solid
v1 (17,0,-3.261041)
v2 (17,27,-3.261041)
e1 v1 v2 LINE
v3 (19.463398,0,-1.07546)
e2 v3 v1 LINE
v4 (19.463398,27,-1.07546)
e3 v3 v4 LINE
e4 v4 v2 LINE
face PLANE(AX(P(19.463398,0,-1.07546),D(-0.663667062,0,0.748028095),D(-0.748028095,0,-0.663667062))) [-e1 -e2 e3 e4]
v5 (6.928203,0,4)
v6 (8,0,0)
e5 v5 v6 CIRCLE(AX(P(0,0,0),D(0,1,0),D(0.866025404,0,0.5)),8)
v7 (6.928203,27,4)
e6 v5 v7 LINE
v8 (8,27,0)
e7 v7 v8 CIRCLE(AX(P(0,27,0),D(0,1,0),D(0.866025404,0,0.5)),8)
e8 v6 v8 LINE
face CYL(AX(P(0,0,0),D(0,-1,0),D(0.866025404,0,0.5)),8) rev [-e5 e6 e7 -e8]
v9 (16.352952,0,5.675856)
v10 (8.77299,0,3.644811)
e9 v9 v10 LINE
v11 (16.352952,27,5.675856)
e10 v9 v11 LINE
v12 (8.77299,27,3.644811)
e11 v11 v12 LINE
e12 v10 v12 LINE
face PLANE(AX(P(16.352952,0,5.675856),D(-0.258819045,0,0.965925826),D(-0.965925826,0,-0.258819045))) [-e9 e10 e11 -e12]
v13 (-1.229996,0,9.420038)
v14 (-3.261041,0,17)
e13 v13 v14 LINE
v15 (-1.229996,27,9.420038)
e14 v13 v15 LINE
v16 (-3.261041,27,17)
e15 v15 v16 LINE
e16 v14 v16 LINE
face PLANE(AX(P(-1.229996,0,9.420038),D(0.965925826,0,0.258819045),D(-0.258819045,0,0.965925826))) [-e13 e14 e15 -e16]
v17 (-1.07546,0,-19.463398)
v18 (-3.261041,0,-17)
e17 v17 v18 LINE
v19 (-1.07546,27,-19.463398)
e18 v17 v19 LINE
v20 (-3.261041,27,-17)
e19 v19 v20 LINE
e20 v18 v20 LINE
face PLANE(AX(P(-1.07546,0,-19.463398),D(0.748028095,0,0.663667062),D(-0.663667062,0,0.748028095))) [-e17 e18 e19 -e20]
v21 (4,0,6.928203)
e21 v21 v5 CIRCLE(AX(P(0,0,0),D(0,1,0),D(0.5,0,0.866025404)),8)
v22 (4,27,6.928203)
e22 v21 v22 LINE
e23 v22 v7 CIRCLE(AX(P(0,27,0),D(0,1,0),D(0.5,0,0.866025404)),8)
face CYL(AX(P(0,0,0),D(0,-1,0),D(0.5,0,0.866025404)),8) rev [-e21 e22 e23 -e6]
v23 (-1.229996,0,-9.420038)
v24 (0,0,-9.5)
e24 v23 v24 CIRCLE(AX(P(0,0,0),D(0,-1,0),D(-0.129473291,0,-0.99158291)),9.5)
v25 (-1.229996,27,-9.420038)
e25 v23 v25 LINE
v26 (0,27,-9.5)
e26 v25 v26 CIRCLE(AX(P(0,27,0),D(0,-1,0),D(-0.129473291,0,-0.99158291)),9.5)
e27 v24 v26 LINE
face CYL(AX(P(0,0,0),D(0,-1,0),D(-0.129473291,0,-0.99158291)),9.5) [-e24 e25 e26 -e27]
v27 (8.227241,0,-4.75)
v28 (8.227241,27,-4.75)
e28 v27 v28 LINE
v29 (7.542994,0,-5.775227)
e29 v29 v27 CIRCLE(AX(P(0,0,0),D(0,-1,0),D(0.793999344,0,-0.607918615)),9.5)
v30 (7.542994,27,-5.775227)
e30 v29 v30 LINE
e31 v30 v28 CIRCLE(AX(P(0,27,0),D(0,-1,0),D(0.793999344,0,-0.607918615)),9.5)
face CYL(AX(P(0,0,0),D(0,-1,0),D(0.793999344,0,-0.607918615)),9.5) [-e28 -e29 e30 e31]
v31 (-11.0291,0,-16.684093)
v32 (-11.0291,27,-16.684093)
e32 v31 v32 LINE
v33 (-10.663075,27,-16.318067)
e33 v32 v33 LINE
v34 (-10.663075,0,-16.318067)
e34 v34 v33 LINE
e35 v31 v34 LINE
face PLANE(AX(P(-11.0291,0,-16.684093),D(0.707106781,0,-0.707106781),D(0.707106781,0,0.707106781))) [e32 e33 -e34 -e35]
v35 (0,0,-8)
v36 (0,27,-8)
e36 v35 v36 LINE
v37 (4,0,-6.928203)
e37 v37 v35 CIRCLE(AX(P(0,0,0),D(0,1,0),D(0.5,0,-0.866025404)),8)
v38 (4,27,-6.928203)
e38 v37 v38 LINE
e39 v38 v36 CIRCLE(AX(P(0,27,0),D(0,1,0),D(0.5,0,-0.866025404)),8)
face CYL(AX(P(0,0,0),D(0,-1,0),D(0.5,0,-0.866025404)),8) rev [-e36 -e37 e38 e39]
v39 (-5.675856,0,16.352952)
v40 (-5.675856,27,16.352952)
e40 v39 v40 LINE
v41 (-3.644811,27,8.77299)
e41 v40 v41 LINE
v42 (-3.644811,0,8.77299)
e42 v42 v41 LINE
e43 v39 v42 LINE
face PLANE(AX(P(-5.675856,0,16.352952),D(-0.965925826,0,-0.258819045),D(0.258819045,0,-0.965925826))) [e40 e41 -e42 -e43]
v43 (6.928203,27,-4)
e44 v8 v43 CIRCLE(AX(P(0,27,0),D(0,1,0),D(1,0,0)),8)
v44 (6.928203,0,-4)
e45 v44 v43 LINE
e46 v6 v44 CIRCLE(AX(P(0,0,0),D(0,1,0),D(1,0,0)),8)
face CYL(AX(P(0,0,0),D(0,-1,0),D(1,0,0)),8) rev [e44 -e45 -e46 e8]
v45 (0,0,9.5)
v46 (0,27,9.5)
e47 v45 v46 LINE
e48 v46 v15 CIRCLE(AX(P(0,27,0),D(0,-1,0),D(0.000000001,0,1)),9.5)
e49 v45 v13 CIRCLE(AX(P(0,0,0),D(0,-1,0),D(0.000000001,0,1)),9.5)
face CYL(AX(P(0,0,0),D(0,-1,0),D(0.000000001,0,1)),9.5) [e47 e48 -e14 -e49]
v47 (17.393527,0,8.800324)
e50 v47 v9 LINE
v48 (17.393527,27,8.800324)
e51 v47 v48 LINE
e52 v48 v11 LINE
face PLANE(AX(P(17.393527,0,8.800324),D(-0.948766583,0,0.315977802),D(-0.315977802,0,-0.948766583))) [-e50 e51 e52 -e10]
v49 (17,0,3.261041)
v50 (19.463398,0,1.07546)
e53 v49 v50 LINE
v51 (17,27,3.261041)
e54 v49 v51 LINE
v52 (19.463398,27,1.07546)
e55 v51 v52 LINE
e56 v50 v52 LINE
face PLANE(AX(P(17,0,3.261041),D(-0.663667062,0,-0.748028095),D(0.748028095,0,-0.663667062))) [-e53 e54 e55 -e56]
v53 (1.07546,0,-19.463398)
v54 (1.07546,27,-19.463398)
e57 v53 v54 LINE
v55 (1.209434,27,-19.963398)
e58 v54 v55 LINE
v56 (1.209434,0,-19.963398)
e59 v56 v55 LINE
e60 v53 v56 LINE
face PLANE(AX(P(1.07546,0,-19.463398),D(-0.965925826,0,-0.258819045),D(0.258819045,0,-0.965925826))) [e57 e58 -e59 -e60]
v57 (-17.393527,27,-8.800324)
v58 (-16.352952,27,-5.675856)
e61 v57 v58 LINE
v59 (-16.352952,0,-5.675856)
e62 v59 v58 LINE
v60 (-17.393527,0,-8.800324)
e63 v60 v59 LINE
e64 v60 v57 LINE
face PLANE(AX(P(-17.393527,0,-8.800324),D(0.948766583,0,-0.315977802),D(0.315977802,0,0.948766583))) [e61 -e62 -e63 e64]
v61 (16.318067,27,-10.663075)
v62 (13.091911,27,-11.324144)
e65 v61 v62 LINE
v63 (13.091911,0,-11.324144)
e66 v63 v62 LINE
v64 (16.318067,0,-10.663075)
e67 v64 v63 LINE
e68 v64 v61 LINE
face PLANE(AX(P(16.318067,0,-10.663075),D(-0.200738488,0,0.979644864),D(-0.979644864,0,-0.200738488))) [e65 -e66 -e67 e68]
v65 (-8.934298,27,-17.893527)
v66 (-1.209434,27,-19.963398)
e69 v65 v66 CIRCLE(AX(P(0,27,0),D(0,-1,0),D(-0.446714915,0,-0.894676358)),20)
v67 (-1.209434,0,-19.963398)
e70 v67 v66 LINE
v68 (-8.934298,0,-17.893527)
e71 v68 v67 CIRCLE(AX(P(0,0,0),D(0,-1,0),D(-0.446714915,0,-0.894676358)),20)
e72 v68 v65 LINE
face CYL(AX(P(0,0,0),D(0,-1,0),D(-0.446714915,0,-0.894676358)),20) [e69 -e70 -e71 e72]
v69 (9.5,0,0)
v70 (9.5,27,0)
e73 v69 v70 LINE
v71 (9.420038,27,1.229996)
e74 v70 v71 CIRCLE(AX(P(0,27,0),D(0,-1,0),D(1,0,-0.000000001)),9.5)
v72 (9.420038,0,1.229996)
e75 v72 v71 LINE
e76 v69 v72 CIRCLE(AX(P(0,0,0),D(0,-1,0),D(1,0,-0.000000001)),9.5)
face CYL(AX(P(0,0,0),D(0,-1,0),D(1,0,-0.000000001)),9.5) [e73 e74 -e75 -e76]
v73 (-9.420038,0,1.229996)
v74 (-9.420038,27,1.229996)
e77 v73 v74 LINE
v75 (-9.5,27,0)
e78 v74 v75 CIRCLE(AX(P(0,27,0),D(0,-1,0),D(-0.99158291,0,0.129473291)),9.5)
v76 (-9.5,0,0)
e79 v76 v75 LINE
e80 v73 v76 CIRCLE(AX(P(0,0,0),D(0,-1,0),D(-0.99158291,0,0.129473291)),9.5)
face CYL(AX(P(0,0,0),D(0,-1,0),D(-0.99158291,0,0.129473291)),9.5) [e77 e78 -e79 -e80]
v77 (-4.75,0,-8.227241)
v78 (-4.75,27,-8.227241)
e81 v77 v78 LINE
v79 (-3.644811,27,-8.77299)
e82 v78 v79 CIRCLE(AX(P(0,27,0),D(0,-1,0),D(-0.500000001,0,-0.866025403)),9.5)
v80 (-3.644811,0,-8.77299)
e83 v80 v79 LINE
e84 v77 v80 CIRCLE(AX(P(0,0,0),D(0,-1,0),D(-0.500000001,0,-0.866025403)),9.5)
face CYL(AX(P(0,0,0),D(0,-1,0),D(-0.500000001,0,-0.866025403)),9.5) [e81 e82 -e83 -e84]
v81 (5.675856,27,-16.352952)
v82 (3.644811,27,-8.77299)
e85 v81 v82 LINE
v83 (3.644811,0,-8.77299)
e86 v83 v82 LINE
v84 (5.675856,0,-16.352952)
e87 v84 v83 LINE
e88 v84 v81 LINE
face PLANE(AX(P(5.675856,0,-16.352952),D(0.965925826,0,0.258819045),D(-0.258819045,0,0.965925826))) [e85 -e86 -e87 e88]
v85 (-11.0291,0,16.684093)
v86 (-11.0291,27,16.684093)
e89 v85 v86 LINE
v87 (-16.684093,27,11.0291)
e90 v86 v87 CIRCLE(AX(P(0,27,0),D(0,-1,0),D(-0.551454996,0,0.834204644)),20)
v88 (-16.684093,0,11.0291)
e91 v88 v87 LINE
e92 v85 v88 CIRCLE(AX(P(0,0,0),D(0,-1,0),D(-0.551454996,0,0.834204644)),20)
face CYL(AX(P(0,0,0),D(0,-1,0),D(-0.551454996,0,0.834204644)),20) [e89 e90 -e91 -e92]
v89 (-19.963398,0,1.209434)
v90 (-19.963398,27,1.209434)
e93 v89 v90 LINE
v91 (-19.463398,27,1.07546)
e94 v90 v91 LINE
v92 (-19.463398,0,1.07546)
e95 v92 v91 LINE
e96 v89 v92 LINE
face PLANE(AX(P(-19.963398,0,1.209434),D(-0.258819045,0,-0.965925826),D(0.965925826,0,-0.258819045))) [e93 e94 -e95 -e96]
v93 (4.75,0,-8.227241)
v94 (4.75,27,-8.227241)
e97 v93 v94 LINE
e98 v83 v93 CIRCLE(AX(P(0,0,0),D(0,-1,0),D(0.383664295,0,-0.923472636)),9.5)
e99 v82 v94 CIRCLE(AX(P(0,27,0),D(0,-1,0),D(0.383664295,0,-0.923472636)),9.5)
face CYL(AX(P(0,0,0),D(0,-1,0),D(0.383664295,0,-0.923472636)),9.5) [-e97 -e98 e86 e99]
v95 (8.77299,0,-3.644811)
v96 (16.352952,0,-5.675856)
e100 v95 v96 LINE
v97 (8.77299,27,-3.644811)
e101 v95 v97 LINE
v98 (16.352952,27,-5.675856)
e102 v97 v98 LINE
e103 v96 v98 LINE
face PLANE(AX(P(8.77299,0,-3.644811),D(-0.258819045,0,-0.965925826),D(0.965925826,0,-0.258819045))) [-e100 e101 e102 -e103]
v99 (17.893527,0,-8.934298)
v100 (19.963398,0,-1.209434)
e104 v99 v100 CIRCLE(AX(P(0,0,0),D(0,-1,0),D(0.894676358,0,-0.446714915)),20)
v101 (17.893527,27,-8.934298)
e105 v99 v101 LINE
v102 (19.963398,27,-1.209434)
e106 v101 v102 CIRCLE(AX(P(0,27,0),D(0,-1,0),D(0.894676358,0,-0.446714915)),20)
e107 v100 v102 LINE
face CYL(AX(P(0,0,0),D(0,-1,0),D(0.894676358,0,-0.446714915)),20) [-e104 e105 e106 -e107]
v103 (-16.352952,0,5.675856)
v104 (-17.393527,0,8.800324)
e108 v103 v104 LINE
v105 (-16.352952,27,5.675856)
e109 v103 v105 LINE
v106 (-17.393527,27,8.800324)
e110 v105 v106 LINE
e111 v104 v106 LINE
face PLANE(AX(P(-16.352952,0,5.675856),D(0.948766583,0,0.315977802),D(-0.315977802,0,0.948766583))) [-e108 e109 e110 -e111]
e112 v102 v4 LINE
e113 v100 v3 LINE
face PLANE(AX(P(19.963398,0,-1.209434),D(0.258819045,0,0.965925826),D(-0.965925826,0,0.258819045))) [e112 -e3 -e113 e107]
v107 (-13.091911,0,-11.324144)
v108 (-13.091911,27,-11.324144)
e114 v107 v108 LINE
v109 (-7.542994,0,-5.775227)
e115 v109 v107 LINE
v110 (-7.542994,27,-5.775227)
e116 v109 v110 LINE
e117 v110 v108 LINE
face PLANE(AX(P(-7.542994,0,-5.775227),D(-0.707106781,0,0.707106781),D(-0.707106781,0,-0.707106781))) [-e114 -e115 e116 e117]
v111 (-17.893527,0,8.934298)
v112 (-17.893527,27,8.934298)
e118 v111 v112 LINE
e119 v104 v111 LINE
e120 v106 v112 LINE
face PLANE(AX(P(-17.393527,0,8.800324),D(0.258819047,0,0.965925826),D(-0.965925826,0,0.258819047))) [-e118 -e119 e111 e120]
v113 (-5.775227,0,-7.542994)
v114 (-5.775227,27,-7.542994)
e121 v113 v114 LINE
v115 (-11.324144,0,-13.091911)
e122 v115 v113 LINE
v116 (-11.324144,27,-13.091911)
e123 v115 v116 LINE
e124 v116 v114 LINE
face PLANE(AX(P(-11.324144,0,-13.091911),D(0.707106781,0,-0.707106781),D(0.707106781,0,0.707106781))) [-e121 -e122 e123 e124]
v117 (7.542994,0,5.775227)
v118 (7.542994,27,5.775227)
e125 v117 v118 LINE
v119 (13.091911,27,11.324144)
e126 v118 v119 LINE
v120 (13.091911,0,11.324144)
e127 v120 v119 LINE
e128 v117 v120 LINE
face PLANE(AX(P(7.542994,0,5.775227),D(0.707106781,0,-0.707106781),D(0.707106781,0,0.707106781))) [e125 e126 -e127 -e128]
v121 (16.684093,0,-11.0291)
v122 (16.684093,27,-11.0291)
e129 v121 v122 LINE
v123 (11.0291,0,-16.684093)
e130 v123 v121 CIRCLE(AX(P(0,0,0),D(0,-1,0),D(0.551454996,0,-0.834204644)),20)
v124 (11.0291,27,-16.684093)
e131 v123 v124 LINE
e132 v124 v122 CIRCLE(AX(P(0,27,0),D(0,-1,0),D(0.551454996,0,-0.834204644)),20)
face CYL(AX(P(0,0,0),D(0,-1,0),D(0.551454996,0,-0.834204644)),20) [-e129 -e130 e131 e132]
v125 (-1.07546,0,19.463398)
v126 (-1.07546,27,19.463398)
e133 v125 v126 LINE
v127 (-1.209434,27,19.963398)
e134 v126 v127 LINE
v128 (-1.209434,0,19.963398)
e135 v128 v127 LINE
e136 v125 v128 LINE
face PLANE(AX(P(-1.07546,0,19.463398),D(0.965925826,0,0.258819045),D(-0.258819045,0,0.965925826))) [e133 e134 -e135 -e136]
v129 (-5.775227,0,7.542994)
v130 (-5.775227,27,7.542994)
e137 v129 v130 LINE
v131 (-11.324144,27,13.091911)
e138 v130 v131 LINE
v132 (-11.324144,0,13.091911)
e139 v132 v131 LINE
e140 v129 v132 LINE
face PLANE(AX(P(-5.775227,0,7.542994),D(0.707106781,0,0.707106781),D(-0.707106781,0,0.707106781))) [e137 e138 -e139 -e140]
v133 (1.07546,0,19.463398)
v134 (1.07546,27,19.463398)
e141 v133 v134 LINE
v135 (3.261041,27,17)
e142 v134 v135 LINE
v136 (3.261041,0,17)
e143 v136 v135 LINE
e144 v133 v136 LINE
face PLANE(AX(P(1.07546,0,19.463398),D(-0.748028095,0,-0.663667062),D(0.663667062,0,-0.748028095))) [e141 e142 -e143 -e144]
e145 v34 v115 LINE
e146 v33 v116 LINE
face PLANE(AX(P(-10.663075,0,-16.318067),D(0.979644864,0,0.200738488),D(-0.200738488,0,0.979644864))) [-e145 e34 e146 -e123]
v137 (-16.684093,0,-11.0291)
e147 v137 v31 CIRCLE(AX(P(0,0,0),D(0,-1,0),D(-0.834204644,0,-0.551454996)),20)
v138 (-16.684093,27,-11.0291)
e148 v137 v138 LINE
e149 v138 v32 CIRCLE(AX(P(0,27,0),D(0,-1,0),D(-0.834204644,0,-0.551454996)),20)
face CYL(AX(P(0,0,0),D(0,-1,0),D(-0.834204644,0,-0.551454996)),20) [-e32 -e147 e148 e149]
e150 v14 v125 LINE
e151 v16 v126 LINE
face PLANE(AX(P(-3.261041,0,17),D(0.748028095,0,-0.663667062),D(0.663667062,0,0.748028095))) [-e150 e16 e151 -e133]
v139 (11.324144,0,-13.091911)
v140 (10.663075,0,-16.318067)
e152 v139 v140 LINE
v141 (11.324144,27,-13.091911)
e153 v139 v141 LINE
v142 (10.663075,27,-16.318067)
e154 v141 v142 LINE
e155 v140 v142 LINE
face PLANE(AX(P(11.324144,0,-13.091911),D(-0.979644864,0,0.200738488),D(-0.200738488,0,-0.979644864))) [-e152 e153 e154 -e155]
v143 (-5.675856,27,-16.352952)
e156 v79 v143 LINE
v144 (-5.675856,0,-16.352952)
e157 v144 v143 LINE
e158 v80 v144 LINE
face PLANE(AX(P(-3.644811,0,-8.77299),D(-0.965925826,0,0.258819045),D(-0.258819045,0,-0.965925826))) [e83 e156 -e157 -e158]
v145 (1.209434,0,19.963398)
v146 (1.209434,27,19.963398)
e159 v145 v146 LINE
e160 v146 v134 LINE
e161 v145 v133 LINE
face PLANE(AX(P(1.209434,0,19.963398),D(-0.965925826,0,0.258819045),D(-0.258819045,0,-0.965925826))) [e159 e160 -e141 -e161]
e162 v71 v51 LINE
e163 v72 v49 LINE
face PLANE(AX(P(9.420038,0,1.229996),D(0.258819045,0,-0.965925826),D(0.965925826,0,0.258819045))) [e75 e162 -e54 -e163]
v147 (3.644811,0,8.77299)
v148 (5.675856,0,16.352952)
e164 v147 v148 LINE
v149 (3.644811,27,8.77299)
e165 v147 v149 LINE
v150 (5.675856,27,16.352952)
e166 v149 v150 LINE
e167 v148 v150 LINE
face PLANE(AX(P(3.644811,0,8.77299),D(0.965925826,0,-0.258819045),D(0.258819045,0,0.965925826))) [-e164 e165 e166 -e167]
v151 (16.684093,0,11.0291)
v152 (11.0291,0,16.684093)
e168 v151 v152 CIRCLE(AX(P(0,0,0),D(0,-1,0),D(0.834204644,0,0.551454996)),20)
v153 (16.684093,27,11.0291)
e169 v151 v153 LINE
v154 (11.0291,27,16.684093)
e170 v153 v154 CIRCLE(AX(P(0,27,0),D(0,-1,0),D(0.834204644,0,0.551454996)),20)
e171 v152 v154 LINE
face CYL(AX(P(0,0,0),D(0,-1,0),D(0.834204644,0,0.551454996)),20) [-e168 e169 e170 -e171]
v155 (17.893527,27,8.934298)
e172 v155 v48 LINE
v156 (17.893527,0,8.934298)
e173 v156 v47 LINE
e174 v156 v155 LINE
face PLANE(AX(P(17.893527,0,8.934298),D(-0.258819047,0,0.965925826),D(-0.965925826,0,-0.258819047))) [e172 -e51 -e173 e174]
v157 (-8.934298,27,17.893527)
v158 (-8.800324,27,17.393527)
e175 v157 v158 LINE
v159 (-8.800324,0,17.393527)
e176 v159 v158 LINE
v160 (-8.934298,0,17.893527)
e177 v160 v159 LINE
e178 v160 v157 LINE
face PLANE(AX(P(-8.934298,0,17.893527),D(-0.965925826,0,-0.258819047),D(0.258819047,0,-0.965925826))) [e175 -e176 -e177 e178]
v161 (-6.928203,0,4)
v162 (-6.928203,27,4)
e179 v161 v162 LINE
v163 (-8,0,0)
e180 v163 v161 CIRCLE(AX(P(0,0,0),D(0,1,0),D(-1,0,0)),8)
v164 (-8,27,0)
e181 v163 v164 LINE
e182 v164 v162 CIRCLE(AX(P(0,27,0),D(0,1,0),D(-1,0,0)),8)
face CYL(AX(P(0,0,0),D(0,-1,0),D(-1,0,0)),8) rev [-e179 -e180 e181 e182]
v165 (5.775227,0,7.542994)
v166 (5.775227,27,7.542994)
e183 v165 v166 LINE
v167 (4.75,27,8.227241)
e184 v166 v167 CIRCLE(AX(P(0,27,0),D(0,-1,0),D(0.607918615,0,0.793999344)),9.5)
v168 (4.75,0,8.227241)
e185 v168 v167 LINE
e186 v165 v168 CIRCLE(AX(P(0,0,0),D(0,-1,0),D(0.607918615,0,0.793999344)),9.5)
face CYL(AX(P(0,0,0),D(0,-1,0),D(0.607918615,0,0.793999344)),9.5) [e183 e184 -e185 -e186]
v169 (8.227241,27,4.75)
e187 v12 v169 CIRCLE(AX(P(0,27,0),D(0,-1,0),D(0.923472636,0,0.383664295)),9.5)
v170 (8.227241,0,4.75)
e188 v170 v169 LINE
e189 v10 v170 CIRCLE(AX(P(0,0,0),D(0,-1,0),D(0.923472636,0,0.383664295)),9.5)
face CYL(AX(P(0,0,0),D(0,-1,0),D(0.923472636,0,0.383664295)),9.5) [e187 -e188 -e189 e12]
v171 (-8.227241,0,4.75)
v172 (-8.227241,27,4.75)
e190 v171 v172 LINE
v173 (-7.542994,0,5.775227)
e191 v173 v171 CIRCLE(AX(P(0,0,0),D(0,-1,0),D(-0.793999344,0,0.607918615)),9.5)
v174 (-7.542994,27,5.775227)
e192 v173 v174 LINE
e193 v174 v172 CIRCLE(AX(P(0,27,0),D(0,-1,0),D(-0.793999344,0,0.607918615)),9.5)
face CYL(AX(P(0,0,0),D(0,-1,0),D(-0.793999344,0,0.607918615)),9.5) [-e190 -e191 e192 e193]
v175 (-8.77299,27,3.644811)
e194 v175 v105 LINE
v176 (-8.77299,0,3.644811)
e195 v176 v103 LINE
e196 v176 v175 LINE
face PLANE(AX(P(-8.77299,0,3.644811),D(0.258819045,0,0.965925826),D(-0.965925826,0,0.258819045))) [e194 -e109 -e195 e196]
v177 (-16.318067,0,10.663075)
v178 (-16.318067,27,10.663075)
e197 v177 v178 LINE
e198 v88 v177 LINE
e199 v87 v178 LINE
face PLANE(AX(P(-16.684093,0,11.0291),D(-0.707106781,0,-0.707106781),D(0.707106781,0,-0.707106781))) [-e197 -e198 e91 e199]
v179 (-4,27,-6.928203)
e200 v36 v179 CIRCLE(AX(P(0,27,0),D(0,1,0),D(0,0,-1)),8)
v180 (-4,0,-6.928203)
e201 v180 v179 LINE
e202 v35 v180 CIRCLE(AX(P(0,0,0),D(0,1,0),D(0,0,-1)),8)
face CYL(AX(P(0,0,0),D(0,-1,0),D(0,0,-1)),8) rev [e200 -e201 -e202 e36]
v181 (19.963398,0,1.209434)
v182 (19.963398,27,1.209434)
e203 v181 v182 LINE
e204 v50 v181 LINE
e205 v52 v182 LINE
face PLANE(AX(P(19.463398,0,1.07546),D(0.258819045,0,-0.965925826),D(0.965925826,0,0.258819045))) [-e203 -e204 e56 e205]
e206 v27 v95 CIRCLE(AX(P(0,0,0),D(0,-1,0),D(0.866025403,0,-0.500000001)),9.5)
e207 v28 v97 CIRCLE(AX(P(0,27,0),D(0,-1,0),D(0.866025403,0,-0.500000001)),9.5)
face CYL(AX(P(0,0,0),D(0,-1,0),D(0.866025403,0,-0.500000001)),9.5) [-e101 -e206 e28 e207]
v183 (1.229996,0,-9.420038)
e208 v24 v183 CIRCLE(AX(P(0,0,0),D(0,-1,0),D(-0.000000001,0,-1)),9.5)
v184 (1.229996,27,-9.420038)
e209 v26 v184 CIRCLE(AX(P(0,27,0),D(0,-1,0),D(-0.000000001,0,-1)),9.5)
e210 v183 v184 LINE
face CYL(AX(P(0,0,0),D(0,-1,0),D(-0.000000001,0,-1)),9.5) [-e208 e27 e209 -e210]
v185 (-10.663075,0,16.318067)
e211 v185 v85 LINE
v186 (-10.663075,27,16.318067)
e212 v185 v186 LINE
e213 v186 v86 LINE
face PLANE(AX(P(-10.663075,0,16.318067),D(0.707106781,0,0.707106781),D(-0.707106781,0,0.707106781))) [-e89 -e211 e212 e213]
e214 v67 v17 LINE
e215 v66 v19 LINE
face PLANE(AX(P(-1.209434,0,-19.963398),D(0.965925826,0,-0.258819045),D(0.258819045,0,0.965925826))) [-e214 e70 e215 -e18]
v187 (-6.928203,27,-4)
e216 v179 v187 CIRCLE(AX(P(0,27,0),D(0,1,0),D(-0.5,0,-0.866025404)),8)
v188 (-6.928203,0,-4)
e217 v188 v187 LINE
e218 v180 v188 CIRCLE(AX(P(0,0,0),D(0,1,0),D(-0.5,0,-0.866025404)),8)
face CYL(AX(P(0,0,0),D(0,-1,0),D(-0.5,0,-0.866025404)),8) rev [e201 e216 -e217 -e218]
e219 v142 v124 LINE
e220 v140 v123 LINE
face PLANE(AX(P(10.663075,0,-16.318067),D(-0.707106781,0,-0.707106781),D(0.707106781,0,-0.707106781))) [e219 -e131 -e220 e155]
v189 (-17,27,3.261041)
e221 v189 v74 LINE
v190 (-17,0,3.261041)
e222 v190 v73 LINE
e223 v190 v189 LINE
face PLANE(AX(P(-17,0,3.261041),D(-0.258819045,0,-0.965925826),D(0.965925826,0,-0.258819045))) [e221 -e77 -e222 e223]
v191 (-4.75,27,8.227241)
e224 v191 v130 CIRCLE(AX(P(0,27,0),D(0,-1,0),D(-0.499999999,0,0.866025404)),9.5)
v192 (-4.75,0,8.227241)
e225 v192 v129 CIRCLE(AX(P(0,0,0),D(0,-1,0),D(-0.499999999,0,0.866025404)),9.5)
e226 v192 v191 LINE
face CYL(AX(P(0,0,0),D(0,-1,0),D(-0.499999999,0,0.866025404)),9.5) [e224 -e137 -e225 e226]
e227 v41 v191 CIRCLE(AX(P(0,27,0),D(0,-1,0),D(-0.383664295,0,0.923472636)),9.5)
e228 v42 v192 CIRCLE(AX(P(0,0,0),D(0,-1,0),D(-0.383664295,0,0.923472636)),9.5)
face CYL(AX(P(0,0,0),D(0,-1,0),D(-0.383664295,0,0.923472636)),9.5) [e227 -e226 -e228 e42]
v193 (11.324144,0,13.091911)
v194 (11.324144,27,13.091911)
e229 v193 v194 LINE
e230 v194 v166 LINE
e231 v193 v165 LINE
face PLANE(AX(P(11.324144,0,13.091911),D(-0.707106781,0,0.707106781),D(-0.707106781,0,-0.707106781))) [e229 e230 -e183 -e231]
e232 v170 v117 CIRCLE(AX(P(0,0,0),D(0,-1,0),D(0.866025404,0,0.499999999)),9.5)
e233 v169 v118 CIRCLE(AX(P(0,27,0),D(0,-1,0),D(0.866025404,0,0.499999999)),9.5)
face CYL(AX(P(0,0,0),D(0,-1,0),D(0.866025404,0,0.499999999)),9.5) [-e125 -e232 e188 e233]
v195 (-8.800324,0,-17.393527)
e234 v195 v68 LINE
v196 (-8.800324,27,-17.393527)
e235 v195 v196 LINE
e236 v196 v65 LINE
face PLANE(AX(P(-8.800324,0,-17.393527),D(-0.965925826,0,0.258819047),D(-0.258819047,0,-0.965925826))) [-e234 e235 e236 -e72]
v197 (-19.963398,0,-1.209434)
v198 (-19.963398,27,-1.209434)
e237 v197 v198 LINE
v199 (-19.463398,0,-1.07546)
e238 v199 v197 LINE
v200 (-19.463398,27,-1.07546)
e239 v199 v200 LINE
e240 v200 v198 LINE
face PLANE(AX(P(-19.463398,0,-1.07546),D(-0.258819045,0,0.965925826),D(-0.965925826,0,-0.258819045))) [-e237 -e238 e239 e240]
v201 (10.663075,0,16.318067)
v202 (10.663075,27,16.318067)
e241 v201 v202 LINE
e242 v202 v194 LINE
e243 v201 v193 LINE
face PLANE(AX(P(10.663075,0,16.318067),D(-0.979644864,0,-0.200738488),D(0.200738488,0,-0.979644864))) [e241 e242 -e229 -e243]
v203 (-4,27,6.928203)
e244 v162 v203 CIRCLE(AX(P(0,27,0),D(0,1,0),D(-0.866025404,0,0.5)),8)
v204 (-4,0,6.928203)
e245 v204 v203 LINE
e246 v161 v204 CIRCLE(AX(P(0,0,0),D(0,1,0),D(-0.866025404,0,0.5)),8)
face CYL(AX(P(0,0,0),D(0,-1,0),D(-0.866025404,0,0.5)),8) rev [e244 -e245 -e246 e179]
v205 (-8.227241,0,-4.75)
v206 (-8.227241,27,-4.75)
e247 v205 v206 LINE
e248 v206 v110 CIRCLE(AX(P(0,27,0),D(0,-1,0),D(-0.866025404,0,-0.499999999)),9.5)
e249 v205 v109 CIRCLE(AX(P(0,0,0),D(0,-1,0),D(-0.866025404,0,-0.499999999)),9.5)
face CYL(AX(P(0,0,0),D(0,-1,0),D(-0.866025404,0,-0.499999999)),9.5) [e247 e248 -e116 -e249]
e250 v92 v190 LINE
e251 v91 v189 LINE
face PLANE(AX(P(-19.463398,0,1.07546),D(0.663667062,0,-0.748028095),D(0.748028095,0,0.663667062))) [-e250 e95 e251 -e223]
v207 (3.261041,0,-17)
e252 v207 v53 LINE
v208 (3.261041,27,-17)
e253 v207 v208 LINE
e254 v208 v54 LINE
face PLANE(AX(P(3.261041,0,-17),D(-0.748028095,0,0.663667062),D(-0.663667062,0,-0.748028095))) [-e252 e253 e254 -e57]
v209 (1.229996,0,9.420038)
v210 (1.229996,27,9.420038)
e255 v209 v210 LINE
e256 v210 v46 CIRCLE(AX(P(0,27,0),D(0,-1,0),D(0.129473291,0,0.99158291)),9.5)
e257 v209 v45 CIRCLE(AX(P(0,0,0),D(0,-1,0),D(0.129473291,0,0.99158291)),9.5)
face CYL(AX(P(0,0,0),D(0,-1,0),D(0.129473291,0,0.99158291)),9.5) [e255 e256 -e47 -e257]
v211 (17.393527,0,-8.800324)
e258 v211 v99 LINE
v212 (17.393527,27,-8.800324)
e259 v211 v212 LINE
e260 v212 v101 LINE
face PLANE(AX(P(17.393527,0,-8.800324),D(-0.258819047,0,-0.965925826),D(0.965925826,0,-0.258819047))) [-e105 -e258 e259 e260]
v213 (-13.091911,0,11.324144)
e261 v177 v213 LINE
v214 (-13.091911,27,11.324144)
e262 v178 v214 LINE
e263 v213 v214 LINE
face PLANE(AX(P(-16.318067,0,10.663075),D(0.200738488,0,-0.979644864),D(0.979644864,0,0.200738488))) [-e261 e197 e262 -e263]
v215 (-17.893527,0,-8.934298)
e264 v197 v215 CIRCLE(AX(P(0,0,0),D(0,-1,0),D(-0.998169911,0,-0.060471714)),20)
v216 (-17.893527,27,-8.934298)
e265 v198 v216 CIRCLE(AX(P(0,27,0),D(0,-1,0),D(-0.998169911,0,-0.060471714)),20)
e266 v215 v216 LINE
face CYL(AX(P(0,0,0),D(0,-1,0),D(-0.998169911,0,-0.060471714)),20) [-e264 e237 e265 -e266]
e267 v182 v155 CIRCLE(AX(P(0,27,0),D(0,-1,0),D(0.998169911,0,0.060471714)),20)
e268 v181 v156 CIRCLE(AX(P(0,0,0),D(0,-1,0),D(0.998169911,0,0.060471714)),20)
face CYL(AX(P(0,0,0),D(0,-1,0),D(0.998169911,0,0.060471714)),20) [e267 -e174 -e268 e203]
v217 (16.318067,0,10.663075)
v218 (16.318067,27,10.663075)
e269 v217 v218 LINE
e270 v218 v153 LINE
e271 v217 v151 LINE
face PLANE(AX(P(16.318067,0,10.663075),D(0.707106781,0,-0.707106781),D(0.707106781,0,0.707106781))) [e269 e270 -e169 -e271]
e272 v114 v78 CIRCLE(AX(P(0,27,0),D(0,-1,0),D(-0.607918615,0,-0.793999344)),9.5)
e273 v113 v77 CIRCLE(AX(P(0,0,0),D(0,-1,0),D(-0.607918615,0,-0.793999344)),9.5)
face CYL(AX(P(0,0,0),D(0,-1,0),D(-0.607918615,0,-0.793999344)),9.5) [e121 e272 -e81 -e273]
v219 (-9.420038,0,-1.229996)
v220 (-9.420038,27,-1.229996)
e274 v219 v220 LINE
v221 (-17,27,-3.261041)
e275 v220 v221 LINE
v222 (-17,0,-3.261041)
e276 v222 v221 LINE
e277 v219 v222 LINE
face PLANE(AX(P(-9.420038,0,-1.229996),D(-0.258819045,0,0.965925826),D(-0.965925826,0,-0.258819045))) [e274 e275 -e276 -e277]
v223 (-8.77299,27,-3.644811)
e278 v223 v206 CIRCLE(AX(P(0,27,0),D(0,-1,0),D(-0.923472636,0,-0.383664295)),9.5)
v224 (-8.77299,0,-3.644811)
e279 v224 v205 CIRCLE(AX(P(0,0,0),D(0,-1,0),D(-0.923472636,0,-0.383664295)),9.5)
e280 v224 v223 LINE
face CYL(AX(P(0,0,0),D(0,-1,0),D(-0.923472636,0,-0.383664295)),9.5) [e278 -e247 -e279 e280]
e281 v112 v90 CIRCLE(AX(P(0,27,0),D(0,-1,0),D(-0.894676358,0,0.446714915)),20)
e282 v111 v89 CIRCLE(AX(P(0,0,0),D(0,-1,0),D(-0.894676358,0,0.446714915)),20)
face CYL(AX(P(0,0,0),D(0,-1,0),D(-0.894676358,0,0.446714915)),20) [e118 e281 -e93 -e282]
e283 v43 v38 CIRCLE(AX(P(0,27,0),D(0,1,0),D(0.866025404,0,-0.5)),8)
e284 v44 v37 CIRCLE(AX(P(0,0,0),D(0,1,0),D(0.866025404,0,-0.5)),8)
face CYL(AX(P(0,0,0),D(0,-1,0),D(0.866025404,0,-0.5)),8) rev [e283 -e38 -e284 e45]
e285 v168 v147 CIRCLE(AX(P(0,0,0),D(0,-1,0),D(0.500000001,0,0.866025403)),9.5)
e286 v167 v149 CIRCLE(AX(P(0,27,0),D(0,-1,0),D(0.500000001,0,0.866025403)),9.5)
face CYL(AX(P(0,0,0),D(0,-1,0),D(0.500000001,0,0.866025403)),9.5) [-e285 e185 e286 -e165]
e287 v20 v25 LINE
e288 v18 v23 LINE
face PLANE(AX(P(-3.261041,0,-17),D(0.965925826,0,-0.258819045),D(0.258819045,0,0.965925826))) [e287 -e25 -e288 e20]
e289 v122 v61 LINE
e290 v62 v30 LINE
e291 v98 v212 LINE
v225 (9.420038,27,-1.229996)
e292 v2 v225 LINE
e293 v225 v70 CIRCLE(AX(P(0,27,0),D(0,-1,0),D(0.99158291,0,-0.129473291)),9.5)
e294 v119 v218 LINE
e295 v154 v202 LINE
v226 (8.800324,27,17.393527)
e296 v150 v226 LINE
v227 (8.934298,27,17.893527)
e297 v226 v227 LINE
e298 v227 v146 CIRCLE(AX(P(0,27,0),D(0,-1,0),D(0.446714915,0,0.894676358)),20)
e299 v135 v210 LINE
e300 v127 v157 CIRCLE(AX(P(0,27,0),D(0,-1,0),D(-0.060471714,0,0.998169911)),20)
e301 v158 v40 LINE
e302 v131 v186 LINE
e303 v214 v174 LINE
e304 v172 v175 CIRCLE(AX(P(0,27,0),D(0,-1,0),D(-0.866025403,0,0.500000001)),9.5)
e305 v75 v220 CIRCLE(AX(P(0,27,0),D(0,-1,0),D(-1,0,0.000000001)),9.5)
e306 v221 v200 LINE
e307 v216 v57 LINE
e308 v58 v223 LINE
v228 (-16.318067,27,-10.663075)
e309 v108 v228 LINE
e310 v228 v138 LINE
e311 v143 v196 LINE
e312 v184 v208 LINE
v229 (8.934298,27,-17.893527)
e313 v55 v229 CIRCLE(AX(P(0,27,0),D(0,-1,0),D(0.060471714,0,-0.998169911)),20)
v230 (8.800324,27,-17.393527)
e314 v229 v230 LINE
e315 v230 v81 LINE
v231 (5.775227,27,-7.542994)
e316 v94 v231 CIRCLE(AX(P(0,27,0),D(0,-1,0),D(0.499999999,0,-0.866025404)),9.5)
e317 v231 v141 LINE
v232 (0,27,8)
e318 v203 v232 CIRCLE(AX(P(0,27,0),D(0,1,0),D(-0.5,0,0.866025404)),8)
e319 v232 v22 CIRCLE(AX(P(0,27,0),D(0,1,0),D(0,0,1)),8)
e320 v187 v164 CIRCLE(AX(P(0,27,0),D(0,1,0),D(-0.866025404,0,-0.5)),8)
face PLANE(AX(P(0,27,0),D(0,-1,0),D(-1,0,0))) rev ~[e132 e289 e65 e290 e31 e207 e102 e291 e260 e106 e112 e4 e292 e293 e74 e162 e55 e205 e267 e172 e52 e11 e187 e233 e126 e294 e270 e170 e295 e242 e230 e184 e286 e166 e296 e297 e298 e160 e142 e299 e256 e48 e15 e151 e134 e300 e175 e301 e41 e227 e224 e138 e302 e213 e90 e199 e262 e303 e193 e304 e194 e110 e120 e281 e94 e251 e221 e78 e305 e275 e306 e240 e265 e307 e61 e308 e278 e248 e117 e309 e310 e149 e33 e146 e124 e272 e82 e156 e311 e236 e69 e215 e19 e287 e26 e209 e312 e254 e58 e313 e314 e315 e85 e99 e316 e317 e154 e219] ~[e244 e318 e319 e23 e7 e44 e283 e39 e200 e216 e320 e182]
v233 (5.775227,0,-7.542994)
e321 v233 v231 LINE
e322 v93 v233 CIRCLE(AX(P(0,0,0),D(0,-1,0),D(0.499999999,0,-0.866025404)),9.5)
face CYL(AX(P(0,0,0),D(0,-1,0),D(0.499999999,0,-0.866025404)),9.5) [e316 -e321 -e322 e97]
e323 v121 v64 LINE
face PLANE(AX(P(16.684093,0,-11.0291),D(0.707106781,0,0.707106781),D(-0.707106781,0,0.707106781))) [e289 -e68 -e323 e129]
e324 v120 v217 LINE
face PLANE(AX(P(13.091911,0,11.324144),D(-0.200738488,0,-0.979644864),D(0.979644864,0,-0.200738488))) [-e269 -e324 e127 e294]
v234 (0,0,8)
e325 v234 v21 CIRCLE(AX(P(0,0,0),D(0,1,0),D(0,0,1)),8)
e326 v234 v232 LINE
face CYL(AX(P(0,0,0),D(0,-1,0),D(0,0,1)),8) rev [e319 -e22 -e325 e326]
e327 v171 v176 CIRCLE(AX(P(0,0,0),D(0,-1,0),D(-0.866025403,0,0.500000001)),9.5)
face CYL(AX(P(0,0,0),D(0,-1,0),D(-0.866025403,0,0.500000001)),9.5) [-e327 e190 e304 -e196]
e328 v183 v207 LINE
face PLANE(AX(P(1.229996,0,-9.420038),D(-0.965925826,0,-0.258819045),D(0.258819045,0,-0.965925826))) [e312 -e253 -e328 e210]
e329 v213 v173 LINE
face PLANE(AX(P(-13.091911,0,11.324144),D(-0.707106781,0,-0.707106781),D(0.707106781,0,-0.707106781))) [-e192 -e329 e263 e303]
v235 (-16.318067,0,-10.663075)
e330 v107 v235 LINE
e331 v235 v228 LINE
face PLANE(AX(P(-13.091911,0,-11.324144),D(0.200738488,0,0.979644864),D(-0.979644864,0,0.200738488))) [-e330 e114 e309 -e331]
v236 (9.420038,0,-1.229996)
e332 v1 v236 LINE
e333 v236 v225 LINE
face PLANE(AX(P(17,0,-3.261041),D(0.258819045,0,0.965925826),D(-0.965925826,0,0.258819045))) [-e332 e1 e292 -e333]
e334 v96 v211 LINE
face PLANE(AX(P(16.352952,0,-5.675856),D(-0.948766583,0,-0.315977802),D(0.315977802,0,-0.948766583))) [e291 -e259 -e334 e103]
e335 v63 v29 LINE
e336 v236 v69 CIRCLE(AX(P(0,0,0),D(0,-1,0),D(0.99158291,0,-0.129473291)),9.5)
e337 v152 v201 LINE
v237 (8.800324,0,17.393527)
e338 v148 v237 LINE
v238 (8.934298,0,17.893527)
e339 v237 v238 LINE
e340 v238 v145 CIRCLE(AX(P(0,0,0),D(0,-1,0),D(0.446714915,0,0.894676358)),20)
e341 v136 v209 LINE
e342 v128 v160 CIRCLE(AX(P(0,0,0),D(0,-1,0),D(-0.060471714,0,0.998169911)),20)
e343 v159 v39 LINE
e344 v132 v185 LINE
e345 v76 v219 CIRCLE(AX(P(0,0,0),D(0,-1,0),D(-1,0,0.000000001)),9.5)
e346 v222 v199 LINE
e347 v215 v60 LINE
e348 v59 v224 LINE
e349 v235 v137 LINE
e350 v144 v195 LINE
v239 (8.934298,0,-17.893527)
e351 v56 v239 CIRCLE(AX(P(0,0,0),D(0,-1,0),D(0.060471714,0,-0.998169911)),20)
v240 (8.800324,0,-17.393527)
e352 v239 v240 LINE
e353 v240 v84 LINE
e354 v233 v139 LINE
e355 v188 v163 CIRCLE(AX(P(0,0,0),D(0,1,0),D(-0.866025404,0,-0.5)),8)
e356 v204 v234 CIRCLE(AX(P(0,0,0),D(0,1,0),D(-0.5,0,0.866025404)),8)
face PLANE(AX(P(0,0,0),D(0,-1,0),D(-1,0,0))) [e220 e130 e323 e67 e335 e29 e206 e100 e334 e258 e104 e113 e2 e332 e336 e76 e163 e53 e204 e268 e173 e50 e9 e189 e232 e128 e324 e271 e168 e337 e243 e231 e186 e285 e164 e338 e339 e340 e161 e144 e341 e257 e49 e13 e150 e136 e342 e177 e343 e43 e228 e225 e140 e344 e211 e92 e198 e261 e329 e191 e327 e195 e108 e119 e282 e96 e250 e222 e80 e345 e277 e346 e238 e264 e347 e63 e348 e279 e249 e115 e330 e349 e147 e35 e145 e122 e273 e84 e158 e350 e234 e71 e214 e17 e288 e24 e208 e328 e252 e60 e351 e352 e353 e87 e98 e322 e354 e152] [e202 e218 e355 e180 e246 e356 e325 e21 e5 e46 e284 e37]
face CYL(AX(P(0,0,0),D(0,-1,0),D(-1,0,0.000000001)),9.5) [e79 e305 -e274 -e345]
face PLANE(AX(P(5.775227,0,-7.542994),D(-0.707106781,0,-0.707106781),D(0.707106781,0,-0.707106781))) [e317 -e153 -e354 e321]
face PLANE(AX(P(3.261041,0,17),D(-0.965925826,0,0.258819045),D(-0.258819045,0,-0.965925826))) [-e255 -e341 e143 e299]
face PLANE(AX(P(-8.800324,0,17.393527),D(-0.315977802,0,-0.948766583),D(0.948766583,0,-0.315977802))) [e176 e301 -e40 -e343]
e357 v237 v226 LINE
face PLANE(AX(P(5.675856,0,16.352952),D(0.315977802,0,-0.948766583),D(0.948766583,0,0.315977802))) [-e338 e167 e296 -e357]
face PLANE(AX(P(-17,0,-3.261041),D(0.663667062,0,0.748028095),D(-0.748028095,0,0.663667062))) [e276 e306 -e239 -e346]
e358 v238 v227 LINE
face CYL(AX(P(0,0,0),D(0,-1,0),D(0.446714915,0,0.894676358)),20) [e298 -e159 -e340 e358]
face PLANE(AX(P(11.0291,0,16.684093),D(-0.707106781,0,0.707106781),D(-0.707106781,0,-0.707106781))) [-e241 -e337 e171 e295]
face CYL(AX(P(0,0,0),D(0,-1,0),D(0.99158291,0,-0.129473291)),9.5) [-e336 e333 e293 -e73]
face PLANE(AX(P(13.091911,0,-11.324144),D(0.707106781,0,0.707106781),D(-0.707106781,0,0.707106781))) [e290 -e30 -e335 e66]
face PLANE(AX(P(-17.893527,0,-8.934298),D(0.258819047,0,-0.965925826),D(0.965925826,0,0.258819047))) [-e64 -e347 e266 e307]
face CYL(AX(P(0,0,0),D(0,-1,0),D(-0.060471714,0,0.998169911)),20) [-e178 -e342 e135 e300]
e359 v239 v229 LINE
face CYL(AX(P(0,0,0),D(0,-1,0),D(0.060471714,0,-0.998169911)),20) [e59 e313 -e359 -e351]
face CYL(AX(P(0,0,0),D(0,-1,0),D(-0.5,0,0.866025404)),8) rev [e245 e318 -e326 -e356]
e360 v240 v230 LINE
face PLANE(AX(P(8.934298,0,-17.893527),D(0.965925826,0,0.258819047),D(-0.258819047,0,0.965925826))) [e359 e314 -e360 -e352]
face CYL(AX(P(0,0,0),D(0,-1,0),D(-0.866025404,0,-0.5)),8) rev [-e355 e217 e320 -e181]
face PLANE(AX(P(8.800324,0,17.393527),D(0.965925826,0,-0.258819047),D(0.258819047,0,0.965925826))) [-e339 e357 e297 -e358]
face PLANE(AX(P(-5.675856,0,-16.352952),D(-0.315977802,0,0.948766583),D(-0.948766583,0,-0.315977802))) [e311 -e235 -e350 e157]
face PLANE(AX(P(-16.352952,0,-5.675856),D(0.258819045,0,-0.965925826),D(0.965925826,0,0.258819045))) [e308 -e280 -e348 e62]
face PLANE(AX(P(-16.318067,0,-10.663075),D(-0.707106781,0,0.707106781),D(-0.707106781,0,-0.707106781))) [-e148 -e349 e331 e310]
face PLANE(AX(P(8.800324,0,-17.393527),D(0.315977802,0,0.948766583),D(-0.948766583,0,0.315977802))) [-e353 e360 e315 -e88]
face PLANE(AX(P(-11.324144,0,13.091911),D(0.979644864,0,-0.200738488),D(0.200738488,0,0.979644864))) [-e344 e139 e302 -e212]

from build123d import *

# Parameters (mm, degrees)
BOSS_EXTRUDE1_DEPTH = 27


with BuildPart() as part:
    # Sketch1 → Boss-Extrude1 (new body)
    with BuildSketch(Plane(origin=(0, 0, 0), x_dir=(1, 0, 0), z_dir=(0, 1, 0))):
        with BuildLine():
            Line((1.229996254, 9.420037644), (3.261041046, 17))
            Line((3.261041046, 17), (1.075459685, 19.463398226))
            Line((1.075459685, 19.463398226), (1.209434281, 19.963398226))
            ThreePointArc((1.209434281, 19.963398226), (5.176380902, 19.318516526), (8.934298302, 17.89352715))
            Line((8.934298302, 17.89352715), (8.800323705, 17.39352715))
            Line((8.800323705, 17.39352715), (5.675855612, 16.352952387))
            Line((5.675855612, 16.352952387), (3.64481082, 8.772990031))
            ThreePointArc((3.64481082, 8.772990031), (4.206265872, 8.5180589), (4.75, 8.227241336))
            ThreePointArc((4.75, 8.227241336), (5.273722462, 7.90176255), (5.775226824, 7.542993777))
            Line((5.775226824, 7.542993777), (11.324144388, 13.091911341))
            Line((11.324144388, 13.091911341), (10.66307452, 16.318067465))
            Line((10.66307452, 16.318067465), (11.029099924, 16.684092869))
            ThreePointArc((11.029099924, 16.684092869), (14.142135624, 14.142135624), (16.684092869, 11.029099924))
            Line((16.684092869, 11.029099924), (16.318067465, 10.66307452))
            Line((16.318067465, 10.66307452), (13.091911341, 11.324144388))
            Line((13.091911341, 11.324144388), (7.542993777, 5.775226824))
            ThreePointArc((7.542993777, 5.775226824), (7.90176255, 5.273722462), (8.227241336, 4.75))
            ThreePointArc((8.227241336, 4.75), (8.5180589, 4.206265872), (8.772990031, 3.64481082))
            Line((8.772990031, 3.64481082), (16.352952387, 5.675855612))
            Line((16.352952387, 5.675855612), (17.39352715, 8.800323705))
            Line((17.39352715, 8.800323705), (17.89352715, 8.934298302))
            ThreePointArc((17.89352715, 8.934298302), (19.318516526, 5.176380902), (19.963398226, 1.209434281))
            Line((19.963398226, 1.209434281), (19.463398226, 1.075459685))
            Line((19.463398226, 1.075459685), (17, 3.261041046))
            Line((17, 3.261041046), (9.420037644, 1.229996254))
            ThreePointArc((9.420037644, 1.229996254), (9.479988334, 0.61629635), (9.5, 0))
            ThreePointArc((9.5, 0), (9.479988334, -0.61629635), (9.420037644, -1.229996254))
            Line((9.420037644, -1.229996254), (17, -3.261041046))
            Line((17, -3.261041046), (19.463398226, -1.075459685))
            Line((19.463398226, -1.075459685), (19.963398226, -1.209434281))
            ThreePointArc((19.963398226, -1.209434281), (19.318516526, -5.176380902), (17.89352715, -8.934298302))
            Line((17.89352715, -8.934298302), (17.39352715, -8.800323705))
            Line((17.39352715, -8.800323705), (16.352952387, -5.675855612))
            Line((16.352952387, -5.675855612), (8.772990031, -3.64481082))
            ThreePointArc((8.772990031, -3.64481082), (8.5180589, -4.206265872), (8.227241336, -4.75))
            ThreePointArc((8.227241336, -4.75), (7.90176255, -5.273722462), (7.542993777, -5.775226824))
            Line((7.542993777, -5.775226824), (13.091911341, -11.324144388))
            Line((13.091911341, -11.324144388), (16.318067465, -10.66307452))
            Line((16.318067465, -10.66307452), (16.684092869, -11.029099924))
            ThreePointArc((16.684092869, -11.029099924), (14.142135624, -14.142135624), (11.029099924, -16.684092869))
            Line((11.029099924, -16.684092869), (10.66307452, -16.318067465))
            Line((10.66307452, -16.318067465), (11.324144388, -13.091911341))
            Line((11.324144388, -13.091911341), (5.775226824, -7.542993777))
            ThreePointArc((5.775226824, -7.542993777), (5.273722462, -7.90176255), (4.75, -8.227241336))
            ThreePointArc((4.75, -8.227241336), (4.206265872, -8.5180589), (3.64481082, -8.772990031))
            Line((3.64481082, -8.772990031), (5.675855612, -16.352952387))
            Line((5.675855612, -16.352952387), (8.800323705, -17.39352715))
            Line((8.800323705, -17.39352715), (8.934298302, -17.89352715))
            ThreePointArc((8.934298302, -17.89352715), (5.176380902, -19.318516526), (1.209434281, -19.963398226))
            Line((1.209434281, -19.963398226), (1.075459685, -19.463398226))
            Line((1.075459685, -19.463398226), (3.261041046, -17))
            Line((3.261041046, -17), (1.229996254, -9.420037644))
            ThreePointArc((1.229996254, -9.420037644), (0.61629635, -9.479988334), (0, -9.5))
            ThreePointArc((0, -9.5), (-0.61629635, -9.479988334), (-1.229996254, -9.420037644))
            Line((-1.229996254, -9.420037644), (-3.261041046, -17))
            Line((-3.261041046, -17), (-1.075459685, -19.463398226))
            Line((-1.075459685, -19.463398226), (-1.209434281, -19.963398226))
            ThreePointArc((-1.209434281, -19.963398226), (-5.176380902, -19.318516526), (-8.934298302, -17.89352715))
            Line((-8.934298302, -17.89352715), (-8.800323705, -17.39352715))
            Line((-8.800323705, -17.39352715), (-5.675855612, -16.352952387))
            Line((-5.675855612, -16.352952387), (-3.64481082, -8.772990031))
            ThreePointArc((-3.64481082, -8.772990031), (-4.206265872, -8.5180589), (-4.75, -8.227241336))
            ThreePointArc((-4.75, -8.227241336), (-5.273722462, -7.90176255), (-5.775226824, -7.542993777))
            Line((-5.775226824, -7.542993777), (-11.324144388, -13.091911341))
            Line((-11.324144388, -13.091911341), (-10.66307452, -16.318067465))
            Line((-10.66307452, -16.318067465), (-11.029099924, -16.684092869))
            ThreePointArc((-11.029099924, -16.684092869), (-14.142135624, -14.142135624), (-16.684092869, -11.029099924))
            Line((-16.684092869, -11.029099924), (-16.318067465, -10.66307452))
            Line((-16.318067465, -10.66307452), (-13.091911341, -11.324144388))
            Line((-13.091911341, -11.324144388), (-7.542993777, -5.775226824))
            ThreePointArc((-7.542993777, -5.775226824), (-7.90176255, -5.273722462), (-8.227241336, -4.75))
            ThreePointArc((-8.227241336, -4.75), (-8.5180589, -4.206265872), (-8.772990031, -3.64481082))
            Line((-8.772990031, -3.64481082), (-16.352952387, -5.675855612))
            Line((-16.352952387, -5.675855612), (-17.39352715, -8.800323705))
            Line((-17.39352715, -8.800323705), (-17.89352715, -8.934298302))
            ThreePointArc((-17.89352715, -8.934298302), (-19.318516526, -5.176380902), (-19.963398226, -1.209434281))
            Line((-19.963398226, -1.209434281), (-19.463398226, -1.075459685))
            Line((-19.463398226, -1.075459685), (-17, -3.261041046))
            Line((-17, -3.261041046), (-9.420037644, -1.229996254))
            ThreePointArc((-9.420037644, -1.229996254), (-9.479988334, -0.61629635), (-9.5, 0))
            ThreePointArc((-9.5, 0), (-9.479988334, 0.61629635), (-9.420037644, 1.229996254))
            Line((-9.420037644, 1.229996254), (-17, 3.261041046))
            Line((-17, 3.261041046), (-19.463398226, 1.075459685))
            Line((-19.463398226, 1.075459685), (-19.963398226, 1.209434281))
            ThreePointArc((-19.963398226, 1.209434281), (-19.318516526, 5.176380902), (-17.89352715, 8.934298302))
            Line((-17.89352715, 8.934298302), (-17.39352715, 8.800323705))
            Line((-17.39352715, 8.800323705), (-16.352952387, 5.675855612))
            Line((-16.352952387, 5.675855612), (-8.772990031, 3.64481082))
            ThreePointArc((-8.772990031, 3.64481082), (-8.5180589, 4.206265872), (-8.227241336, 4.75))
            ThreePointArc((-8.227241336, 4.75), (-7.90176255, 5.273722462), (-7.542993777, 5.775226824))
            Line((-7.542993777, 5.775226824), (-13.091911341, 11.324144388))
            Line((-13.091911341, 11.324144388), (-16.318067465, 10.66307452))
            Line((-16.318067465, 10.66307452), (-16.684092869, 11.029099924))
            ThreePointArc((-16.684092869, 11.029099924), (-14.142135624, 14.142135624), (-11.029099924, 16.684092869))
            Line((-11.029099924, 16.684092869), (-10.66307452, 16.318067465))
            Line((-10.66307452, 16.318067465), (-11.324144388, 13.091911341))
            Line((-11.324144388, 13.091911341), (-5.775226824, 7.542993777))
            ThreePointArc((-5.775226824, 7.542993777), (-5.273722462, 7.90176255), (-4.75, 8.227241336))
            ThreePointArc((-4.75, 8.227241336), (-4.206265872, 8.5180589), (-3.64481082, 8.772990031))
            Line((-3.64481082, 8.772990031), (-5.675855612, 16.352952387))
            Line((-5.675855612, 16.352952387), (-8.800323705, 17.39352715))
            Line((-8.800323705, 17.39352715), (-8.934298302, 17.89352715))
            ThreePointArc((-8.934298302, 17.89352715), (-5.176380902, 19.318516526), (-1.209434281, 19.963398226))
            Line((-1.209434281, 19.963398226), (-1.075459685, 19.463398226))
            Line((-1.075459685, 19.463398226), (-3.261041046, 17))
            Line((-3.261041046, 17), (-1.229996254, 9.420037644))
            ThreePointArc((-1.229996254, 9.420037644), (-0.61629635, 9.479988334), (0, 9.5))
            ThreePointArc((0, 9.5), (0.61629635, 9.479988334), (1.229996254, 9.420037644))
        make_face()
        with BuildLine():
            ThreePointArc((4, 6.92820323), (2.070552361, 7.72740661), (0, 8))
            ThreePointArc((0, 8), (-2.070552361, 7.72740661), (-4, 6.92820323))
            ThreePointArc((-4, 6.92820323), (-5.656854249, 5.656854249), (-6.92820323, 4))
            ThreePointArc((-6.92820323, 4), (-7.72740661, 2.070552361), (-8, 0))
            ThreePointArc((-8, 0), (-7.72740661, -2.070552361), (-6.92820323, -4))
            ThreePointArc((-6.92820323, -4), (-5.656854249, -5.656854249), (-4, -6.92820323))
            ThreePointArc((-4, -6.92820323), (-2.070552361, -7.72740661), (0, -8))
            ThreePointArc((0, -8), (2.070552361, -7.72740661), (4, -6.92820323))
            ThreePointArc((4, -6.92820323), (5.656854249, -5.656854249), (6.92820323, -4))
            ThreePointArc((6.92820323, -4), (7.72740661, -2.070552361), (8, 0))
            ThreePointArc((8, 0), (7.72740661, 2.070552361), (6.92820323, 4))
            ThreePointArc((6.92820323, 4), (5.656854249, 5.656854249), (4, 6.92820323))
        make_face(mode=Mode.SUBTRACT)
    extrude(amount=BOSS_EXTRUDE1_DEPTH)


solid = part.part
